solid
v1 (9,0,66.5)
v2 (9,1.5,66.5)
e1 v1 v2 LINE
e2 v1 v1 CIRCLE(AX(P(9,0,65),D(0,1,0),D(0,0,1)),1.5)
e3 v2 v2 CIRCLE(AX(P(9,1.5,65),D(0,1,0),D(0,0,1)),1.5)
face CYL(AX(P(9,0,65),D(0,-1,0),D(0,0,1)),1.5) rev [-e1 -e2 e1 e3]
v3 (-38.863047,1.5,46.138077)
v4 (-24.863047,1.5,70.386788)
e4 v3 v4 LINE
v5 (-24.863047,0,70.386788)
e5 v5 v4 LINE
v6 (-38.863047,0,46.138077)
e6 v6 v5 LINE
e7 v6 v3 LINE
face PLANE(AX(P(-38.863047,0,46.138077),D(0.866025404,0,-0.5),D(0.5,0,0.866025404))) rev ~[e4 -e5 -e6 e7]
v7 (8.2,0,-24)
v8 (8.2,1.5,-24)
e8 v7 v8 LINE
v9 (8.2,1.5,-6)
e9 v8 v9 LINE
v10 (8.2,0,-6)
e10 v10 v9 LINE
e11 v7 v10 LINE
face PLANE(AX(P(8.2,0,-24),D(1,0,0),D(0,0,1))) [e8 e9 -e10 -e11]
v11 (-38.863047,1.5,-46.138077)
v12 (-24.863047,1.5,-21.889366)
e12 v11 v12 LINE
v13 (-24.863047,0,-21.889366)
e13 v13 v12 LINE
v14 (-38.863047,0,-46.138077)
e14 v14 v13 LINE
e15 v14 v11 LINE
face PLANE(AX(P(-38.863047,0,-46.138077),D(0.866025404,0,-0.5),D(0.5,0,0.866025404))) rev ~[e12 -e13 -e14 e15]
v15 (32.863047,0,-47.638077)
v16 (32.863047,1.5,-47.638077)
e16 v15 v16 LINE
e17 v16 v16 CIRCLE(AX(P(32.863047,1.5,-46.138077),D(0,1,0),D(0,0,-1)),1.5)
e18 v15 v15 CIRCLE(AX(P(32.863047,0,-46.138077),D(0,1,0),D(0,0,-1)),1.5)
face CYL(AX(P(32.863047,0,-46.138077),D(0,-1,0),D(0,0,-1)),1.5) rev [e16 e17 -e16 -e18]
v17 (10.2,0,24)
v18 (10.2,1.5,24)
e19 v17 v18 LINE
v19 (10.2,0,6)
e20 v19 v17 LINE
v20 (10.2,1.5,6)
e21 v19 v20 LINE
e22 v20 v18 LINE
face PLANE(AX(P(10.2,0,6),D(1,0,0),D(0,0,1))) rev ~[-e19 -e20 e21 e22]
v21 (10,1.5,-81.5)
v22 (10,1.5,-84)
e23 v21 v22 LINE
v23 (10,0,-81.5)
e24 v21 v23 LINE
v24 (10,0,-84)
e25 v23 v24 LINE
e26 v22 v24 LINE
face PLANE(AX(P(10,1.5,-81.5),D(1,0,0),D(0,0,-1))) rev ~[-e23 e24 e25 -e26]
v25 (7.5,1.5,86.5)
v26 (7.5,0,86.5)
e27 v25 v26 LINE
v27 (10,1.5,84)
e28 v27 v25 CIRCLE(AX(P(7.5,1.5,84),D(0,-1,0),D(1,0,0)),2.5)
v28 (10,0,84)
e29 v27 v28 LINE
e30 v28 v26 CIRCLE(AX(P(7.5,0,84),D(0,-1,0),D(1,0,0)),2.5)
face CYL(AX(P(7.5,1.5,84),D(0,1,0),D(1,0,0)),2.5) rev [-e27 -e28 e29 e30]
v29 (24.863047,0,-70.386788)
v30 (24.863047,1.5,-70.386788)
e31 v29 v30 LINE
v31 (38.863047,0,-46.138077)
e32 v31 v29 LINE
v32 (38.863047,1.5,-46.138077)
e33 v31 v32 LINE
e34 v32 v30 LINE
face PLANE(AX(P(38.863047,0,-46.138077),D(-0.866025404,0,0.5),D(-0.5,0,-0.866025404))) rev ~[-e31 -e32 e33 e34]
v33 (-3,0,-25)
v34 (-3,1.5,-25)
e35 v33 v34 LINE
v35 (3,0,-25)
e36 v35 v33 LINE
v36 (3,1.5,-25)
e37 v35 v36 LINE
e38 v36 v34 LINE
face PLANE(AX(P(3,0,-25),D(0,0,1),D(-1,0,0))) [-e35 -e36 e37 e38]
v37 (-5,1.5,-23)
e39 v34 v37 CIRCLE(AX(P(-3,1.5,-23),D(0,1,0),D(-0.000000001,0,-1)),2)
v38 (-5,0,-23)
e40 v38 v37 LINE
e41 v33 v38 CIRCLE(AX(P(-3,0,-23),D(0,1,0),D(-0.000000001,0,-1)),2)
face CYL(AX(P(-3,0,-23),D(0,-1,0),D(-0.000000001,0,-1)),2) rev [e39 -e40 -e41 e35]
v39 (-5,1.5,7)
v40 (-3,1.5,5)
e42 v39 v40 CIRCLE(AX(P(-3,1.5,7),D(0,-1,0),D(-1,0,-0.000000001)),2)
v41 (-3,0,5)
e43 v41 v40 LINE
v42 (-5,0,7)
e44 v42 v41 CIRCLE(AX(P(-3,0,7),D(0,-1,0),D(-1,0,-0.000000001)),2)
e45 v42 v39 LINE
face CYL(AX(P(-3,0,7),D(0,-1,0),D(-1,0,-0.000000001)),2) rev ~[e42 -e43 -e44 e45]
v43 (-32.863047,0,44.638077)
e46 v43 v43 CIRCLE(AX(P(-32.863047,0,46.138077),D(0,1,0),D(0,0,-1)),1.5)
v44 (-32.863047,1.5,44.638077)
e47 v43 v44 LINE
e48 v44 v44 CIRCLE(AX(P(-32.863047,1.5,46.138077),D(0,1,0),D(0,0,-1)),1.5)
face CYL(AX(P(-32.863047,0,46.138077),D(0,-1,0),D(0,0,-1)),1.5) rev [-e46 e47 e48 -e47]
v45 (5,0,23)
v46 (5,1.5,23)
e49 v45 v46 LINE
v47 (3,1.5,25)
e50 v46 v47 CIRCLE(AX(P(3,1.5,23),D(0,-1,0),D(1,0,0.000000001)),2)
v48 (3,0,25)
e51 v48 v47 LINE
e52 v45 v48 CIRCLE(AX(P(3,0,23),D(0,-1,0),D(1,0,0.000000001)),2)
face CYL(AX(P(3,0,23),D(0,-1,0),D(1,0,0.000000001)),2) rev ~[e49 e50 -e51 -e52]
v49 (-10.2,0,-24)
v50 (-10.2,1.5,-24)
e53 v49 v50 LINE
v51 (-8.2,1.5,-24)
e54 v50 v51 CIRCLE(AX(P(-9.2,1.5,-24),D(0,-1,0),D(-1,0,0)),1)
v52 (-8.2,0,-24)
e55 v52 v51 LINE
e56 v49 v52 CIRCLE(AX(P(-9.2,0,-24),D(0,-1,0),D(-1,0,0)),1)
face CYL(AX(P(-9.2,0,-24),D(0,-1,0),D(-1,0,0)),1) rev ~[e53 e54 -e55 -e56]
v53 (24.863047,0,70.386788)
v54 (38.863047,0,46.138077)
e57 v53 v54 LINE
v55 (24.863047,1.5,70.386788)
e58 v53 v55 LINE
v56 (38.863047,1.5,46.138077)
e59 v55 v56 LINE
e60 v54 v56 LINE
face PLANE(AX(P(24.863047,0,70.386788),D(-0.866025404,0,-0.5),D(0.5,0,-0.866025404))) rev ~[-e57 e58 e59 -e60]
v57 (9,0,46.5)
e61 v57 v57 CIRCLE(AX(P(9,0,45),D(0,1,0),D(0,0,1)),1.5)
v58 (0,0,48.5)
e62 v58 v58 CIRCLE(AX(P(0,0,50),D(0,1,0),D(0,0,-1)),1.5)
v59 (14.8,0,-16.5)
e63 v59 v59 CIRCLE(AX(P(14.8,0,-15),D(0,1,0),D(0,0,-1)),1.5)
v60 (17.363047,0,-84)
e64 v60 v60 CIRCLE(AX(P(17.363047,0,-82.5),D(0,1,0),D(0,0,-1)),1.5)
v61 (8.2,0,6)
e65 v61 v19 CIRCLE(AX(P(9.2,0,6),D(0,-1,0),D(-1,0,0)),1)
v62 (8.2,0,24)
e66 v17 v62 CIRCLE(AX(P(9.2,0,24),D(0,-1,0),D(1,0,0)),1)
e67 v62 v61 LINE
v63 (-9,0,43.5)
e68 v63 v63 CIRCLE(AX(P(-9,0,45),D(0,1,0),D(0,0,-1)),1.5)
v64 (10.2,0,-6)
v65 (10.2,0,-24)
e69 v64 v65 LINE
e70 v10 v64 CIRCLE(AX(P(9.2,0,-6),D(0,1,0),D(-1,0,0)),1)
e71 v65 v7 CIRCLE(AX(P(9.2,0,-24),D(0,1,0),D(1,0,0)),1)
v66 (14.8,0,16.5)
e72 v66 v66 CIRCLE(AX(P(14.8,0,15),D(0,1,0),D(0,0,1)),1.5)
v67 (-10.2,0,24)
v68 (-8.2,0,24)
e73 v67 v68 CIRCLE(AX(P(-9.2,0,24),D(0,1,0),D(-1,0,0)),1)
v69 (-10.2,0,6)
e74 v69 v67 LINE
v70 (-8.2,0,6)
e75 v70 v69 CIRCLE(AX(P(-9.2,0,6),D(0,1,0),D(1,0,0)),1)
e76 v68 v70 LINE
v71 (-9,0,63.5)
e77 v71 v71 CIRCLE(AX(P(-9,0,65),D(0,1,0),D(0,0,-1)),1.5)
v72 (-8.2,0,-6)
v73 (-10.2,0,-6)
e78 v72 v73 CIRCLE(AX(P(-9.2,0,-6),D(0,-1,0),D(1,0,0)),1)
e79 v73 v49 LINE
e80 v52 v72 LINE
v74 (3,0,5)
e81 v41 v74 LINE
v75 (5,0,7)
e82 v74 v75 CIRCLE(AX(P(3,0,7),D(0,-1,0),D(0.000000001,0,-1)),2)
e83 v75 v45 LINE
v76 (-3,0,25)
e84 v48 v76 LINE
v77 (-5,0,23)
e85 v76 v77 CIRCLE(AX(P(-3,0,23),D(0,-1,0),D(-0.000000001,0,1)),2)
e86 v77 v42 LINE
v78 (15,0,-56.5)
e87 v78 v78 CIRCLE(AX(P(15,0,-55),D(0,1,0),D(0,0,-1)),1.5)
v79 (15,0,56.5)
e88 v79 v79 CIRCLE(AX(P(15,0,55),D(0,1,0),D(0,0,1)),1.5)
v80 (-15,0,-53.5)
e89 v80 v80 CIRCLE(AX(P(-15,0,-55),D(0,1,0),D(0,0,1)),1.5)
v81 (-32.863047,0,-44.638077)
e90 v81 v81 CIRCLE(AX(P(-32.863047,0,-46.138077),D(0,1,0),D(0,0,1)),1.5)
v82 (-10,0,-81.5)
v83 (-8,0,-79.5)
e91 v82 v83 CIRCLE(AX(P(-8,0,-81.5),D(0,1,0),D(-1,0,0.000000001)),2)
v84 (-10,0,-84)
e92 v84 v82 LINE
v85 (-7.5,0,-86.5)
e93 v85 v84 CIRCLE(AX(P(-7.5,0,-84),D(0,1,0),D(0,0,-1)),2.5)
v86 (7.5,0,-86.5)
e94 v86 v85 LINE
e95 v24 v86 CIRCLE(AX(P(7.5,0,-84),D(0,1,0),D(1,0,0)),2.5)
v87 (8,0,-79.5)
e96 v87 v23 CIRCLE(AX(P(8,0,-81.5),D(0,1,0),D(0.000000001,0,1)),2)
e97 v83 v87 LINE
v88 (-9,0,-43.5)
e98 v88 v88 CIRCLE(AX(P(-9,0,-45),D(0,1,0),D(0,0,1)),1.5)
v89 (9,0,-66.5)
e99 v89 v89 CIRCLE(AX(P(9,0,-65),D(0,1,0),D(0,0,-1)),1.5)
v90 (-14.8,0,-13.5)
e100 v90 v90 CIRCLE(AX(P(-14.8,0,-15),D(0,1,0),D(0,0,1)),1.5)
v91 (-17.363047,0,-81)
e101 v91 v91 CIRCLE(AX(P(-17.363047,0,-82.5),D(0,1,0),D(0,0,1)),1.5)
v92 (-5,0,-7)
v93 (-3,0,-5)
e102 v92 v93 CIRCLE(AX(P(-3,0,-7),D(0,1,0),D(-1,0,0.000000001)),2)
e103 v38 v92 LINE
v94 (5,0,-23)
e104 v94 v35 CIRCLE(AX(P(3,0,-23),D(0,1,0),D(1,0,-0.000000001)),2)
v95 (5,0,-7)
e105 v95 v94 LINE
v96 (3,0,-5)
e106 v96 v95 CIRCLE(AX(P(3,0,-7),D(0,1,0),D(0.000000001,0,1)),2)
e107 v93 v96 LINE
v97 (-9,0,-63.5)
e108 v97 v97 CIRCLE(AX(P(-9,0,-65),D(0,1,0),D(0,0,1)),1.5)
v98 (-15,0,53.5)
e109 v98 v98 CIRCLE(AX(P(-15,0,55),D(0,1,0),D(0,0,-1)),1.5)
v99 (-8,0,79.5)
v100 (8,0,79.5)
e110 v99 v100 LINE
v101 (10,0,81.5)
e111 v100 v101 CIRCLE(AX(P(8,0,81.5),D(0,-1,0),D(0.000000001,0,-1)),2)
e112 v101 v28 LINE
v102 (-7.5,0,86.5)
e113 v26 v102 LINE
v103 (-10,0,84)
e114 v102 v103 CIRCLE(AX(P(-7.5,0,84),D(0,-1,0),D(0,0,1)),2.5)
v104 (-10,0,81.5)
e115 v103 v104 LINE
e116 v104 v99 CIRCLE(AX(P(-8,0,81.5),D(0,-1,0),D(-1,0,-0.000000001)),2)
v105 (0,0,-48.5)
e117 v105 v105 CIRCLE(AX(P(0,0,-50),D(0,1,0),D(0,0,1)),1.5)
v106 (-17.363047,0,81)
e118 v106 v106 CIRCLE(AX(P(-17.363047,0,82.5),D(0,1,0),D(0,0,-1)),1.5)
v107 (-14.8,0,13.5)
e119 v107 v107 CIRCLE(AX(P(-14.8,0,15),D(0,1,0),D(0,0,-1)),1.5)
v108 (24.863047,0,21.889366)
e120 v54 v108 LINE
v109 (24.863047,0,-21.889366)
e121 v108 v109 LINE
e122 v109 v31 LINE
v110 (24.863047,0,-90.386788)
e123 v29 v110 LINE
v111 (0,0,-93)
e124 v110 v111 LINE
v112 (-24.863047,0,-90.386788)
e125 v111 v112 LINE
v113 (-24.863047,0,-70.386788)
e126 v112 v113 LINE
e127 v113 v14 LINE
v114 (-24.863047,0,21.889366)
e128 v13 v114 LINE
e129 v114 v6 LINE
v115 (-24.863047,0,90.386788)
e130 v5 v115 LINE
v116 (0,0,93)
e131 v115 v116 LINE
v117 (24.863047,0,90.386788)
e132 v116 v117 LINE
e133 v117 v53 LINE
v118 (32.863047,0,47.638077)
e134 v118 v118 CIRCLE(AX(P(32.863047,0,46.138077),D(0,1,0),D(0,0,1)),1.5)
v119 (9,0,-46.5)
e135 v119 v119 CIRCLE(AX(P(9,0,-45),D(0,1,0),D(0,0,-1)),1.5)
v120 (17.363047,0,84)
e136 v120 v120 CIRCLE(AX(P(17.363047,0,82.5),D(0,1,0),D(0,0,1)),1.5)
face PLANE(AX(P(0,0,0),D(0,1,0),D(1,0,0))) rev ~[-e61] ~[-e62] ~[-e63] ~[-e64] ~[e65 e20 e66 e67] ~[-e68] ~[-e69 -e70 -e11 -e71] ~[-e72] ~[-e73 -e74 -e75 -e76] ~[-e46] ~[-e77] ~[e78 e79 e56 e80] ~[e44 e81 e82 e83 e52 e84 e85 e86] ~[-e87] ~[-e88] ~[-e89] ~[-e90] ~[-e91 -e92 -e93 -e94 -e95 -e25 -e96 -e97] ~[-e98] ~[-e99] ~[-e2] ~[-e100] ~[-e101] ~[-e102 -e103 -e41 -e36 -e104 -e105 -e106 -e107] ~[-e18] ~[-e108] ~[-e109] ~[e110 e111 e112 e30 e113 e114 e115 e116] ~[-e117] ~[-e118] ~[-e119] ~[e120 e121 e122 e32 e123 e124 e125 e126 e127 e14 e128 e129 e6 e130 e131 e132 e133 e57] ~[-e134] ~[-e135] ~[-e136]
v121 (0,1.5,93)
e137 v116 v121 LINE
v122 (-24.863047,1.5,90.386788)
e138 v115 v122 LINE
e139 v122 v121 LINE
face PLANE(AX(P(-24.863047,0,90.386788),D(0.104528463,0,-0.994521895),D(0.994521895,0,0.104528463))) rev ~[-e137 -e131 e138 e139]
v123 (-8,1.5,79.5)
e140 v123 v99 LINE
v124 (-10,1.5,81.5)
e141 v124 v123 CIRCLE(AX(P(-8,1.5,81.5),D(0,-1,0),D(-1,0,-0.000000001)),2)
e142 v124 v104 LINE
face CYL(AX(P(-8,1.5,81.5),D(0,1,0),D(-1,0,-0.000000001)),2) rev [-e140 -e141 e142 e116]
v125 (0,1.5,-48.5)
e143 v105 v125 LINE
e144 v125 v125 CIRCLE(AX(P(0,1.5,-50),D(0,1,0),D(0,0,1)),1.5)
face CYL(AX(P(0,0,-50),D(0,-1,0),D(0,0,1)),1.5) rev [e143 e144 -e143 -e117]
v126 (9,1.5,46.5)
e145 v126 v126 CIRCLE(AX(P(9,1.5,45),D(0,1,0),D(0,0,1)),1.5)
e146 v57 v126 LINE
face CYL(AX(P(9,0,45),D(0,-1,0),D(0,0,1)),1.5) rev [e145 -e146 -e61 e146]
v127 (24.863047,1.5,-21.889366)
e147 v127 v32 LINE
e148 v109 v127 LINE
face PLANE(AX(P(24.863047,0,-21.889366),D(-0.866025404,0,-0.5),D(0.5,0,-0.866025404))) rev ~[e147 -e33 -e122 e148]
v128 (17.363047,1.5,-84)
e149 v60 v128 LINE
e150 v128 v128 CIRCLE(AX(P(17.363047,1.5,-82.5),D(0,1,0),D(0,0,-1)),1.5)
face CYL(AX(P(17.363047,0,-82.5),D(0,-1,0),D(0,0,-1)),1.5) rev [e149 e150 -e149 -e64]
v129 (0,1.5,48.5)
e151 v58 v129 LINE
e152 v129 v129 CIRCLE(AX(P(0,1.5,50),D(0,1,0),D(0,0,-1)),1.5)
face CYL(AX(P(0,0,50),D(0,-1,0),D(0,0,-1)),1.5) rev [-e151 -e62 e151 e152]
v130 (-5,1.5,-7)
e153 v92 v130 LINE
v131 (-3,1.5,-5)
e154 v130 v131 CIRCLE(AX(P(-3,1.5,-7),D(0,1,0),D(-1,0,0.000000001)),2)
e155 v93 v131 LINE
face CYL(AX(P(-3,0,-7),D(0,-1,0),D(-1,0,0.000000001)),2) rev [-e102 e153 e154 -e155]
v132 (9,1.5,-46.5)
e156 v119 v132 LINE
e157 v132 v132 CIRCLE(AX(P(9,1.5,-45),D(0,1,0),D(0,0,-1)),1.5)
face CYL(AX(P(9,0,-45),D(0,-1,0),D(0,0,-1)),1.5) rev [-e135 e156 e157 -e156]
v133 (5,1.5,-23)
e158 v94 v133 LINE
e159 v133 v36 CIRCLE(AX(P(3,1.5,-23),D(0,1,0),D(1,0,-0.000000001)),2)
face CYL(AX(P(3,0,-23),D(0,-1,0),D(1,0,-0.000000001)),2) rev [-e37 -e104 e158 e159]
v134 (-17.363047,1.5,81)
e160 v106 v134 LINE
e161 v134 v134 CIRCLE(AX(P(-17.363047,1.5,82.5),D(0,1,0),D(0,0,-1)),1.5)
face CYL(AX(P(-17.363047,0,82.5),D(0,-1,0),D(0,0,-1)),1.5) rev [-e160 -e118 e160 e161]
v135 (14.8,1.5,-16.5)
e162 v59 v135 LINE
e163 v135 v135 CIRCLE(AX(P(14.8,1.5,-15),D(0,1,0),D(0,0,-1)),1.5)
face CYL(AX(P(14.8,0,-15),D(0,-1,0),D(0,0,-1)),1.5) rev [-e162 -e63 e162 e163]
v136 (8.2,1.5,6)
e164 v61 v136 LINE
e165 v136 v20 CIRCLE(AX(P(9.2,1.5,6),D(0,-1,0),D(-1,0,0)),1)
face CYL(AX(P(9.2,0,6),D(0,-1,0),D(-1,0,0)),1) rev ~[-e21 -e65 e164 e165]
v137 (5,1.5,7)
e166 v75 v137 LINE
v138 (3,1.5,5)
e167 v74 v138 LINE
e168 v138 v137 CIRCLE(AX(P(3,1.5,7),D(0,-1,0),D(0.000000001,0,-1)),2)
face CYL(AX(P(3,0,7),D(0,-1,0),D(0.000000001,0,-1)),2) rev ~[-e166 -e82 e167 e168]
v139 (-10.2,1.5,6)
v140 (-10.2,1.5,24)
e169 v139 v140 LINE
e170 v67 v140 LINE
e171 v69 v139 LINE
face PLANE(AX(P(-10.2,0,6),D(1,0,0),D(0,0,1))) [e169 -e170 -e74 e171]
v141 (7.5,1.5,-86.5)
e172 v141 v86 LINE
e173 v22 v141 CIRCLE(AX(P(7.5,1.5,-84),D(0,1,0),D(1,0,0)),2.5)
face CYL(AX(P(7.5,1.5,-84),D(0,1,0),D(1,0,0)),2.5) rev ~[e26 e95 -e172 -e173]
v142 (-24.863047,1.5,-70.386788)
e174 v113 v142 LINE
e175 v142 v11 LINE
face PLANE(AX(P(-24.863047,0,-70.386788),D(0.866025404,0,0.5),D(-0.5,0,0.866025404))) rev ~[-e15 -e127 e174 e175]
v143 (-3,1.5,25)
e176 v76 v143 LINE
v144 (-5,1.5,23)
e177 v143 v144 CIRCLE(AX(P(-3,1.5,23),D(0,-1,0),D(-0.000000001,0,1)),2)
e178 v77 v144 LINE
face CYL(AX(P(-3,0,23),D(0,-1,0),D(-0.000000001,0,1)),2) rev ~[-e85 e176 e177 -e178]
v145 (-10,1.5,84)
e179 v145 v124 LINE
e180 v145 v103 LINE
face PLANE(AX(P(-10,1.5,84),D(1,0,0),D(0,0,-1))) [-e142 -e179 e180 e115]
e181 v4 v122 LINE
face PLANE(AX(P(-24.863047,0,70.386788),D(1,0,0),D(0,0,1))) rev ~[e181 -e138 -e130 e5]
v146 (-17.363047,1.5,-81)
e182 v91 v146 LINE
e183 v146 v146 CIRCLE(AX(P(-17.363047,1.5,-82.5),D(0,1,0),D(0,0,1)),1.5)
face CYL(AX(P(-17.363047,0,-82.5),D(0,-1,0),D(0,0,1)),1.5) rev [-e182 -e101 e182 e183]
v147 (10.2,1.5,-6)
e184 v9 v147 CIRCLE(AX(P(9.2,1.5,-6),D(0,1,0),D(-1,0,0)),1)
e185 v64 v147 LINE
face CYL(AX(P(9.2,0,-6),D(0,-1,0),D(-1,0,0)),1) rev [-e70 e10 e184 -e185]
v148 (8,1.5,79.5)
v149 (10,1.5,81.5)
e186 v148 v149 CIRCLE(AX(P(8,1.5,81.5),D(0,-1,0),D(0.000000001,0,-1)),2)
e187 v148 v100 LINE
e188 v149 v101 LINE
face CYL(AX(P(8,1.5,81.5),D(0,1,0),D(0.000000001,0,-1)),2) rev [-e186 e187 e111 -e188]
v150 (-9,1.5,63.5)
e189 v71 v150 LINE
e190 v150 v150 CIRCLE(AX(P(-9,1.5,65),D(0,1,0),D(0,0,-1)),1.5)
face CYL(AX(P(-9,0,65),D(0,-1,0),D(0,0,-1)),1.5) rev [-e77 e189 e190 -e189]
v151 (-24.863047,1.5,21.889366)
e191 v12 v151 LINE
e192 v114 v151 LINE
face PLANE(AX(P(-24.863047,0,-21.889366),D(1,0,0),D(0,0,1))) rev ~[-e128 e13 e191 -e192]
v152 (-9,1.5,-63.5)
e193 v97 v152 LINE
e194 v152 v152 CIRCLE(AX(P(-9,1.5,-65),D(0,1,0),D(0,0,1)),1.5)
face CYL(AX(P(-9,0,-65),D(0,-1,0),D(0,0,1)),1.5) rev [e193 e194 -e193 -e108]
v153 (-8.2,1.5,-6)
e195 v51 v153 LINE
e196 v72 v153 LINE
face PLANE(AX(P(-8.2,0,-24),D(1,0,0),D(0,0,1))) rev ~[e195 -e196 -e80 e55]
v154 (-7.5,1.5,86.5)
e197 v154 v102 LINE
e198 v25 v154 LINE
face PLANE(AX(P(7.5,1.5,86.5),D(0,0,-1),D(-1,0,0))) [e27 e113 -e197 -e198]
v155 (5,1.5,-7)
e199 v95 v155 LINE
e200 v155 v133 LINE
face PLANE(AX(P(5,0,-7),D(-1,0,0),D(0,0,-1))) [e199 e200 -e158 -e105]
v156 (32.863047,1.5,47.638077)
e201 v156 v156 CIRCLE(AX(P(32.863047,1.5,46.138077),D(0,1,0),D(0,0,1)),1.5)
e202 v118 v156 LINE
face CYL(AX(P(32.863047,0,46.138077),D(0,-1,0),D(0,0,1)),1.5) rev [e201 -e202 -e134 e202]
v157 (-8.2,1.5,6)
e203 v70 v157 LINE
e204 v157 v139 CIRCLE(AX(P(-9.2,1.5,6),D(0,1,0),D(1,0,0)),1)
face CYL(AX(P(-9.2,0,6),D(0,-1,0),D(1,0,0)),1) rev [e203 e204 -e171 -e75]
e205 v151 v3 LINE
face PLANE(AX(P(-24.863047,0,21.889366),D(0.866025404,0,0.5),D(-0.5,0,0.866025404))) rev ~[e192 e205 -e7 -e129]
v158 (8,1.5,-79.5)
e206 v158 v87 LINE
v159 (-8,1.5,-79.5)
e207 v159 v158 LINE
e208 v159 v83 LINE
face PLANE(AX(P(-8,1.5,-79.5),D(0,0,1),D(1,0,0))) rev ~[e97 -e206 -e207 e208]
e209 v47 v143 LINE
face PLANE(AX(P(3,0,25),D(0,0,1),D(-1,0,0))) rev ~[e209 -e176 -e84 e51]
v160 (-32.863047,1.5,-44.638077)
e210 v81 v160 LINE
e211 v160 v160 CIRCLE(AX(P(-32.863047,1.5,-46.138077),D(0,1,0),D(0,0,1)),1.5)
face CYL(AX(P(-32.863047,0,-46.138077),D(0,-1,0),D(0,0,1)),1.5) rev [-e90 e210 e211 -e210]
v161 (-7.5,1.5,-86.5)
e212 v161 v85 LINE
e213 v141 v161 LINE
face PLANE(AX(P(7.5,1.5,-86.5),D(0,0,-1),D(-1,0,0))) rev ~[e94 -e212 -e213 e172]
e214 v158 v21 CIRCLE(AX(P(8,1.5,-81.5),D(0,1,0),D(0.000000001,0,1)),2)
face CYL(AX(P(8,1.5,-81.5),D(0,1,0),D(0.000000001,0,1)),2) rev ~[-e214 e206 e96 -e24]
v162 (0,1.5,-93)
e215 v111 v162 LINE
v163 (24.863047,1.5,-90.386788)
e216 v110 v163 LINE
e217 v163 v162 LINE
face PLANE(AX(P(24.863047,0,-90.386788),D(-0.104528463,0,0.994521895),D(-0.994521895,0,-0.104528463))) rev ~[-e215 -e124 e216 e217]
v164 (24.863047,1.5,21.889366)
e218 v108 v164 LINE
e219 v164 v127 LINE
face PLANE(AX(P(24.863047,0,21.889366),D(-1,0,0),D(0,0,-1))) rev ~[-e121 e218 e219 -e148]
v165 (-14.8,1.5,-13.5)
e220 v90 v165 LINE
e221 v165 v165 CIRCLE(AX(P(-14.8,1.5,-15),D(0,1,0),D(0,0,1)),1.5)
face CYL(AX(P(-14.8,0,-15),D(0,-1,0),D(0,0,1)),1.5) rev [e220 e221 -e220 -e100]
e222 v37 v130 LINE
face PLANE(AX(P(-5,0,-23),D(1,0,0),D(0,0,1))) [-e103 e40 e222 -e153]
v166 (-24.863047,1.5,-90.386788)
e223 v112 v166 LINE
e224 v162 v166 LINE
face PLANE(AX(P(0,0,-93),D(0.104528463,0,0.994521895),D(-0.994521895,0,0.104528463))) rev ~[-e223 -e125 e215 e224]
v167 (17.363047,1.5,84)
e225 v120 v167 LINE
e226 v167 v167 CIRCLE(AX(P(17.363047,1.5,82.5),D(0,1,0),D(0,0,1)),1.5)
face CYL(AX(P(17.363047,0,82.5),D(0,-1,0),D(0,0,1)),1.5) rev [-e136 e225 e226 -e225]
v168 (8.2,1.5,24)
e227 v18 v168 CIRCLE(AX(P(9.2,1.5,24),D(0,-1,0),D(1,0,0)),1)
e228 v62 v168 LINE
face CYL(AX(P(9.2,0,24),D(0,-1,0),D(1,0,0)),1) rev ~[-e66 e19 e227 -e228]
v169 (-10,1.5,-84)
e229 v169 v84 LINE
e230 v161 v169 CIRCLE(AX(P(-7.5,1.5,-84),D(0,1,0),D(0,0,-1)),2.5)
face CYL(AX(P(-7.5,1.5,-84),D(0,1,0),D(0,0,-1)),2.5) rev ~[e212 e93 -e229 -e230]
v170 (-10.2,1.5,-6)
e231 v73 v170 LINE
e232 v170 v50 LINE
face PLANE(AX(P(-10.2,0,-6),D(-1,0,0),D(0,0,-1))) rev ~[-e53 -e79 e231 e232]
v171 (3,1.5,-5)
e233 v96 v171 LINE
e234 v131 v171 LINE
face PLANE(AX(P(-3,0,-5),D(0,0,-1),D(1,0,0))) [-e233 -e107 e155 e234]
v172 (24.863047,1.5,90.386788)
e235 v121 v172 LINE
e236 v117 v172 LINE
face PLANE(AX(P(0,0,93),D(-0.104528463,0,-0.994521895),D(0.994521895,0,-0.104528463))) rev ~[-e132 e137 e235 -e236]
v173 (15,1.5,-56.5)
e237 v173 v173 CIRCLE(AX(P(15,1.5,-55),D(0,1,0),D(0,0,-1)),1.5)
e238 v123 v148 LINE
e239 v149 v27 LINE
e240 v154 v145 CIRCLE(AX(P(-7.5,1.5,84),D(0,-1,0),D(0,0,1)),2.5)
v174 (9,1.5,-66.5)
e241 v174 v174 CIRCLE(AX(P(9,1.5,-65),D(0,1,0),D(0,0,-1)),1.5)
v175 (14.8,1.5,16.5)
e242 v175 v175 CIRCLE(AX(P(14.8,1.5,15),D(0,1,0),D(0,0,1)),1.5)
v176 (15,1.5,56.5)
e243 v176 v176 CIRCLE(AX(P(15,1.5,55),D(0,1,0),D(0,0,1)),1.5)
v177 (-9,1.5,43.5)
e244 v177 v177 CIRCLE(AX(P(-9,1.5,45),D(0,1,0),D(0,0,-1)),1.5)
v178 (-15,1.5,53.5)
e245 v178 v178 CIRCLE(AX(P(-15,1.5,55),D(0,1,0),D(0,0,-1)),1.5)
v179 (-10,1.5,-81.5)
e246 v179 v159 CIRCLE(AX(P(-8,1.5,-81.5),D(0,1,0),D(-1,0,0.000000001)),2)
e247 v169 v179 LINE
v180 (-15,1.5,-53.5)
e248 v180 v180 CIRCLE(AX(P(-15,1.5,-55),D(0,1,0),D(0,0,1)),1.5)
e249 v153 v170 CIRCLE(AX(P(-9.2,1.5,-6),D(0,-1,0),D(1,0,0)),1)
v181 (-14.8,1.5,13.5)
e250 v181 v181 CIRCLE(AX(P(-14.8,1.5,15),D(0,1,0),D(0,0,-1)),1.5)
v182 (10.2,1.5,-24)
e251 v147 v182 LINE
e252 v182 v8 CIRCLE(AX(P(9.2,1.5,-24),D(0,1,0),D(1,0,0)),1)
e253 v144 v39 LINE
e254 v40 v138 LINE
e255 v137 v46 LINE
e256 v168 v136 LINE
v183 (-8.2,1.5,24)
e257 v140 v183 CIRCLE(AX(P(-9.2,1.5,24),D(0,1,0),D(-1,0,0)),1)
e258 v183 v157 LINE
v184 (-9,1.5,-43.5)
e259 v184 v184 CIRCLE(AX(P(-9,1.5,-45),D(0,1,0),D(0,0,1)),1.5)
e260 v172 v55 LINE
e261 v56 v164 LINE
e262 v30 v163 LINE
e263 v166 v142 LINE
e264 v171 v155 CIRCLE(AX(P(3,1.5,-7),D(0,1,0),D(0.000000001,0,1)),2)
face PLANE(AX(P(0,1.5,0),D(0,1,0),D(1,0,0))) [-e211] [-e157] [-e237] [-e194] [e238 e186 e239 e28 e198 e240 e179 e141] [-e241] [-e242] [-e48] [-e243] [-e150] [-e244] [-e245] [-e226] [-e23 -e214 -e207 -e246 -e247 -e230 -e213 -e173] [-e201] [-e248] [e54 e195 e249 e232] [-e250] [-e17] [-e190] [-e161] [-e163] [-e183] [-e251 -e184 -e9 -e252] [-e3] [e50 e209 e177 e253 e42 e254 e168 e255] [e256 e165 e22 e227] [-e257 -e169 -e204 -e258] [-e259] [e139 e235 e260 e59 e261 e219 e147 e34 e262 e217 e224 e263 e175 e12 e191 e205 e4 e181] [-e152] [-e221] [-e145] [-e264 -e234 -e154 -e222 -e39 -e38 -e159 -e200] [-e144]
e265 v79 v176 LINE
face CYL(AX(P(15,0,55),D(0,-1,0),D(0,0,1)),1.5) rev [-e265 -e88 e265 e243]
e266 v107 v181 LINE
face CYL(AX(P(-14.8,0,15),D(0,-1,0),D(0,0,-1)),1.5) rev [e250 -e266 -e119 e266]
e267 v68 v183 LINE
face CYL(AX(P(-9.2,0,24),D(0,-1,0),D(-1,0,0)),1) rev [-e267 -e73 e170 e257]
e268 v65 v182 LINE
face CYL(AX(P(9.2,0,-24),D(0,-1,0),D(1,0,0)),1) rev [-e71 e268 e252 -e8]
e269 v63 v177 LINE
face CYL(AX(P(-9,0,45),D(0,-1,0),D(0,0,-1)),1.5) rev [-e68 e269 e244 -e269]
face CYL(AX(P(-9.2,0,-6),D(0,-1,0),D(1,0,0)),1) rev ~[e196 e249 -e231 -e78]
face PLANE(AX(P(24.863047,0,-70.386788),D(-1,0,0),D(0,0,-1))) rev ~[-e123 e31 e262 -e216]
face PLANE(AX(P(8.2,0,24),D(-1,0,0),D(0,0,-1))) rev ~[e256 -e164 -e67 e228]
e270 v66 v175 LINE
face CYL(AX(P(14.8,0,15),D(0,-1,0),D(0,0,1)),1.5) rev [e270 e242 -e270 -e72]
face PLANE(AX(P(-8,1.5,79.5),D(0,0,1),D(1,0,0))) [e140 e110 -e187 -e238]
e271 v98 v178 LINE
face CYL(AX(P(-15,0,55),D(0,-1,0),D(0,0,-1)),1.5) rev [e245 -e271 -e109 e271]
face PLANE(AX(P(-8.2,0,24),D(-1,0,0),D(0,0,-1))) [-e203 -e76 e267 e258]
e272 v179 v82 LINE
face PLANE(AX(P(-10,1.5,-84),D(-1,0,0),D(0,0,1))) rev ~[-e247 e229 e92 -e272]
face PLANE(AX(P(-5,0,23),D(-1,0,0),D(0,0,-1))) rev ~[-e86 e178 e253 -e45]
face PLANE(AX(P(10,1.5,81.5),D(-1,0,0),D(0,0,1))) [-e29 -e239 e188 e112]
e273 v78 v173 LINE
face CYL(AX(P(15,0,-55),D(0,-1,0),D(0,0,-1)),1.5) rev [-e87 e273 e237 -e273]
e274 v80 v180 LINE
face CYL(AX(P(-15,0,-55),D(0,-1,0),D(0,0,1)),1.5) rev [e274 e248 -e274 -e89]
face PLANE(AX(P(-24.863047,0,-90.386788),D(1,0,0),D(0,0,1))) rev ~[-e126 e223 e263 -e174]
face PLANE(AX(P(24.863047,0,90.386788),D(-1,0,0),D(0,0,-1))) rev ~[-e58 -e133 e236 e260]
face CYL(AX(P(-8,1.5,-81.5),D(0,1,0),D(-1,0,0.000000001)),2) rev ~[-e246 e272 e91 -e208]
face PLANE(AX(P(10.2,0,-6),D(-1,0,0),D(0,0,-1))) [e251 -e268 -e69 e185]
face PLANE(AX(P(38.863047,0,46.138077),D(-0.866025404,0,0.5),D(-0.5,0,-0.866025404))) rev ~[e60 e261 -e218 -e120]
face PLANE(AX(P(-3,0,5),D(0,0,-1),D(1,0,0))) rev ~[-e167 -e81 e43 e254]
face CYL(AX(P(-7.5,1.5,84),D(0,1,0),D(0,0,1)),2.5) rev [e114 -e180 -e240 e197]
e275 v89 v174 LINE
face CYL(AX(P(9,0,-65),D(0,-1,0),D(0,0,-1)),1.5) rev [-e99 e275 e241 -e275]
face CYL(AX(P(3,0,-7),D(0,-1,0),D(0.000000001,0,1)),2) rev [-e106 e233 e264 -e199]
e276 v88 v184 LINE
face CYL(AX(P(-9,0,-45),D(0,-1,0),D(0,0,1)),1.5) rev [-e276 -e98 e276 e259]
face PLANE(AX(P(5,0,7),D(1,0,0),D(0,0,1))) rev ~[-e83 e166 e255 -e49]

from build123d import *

# Parameters (mm, degrees)
SKETCH1_R           = 1.5
BOSS_EXTRUDE1_DEPTH = 1.5
CUT_EXTRUDE1_DEPTH  = 1.5


with BuildPart() as part:
    # Sketch1 → Boss-Extrude1 (new body)
    with BuildSketch(Plane(origin=(0, 0, 0), x_dir=(1, 0, 0), z_dir=(0, 1, 0))):
        Polygon((0, 93), (-24.863047384, 90.386788418), (-24.863047384, 70.386788418), (-38.863047384, 46.138077112), (-24.863047384, 21.889365806), (-24.863047384, -21.889365806), (-38.863047384, -46.138077112), (-24.863047384, -70.386788418), (-24.863047384, -90.386788418), (0, -93), (24.863047384, -90.386788418), (24.863047384, -70.386788418), (38.863047384, -46.138077112), (24.863047384, -21.889365806), (24.863047384, 21.889365806), (38.863047384, 46.138077112), (24.863047384, 70.386788418), (24.863047384, 90.386788418), align=None)
        with Locations(Location((0, 50, 0), (0, 0, 270))):
            Circle(SKETCH1_R, mode=Mode.SUBTRACT)
        with Locations(Location((-9, 45, 0), (0, 0, 270))):
            Circle(SKETCH1_R, mode=Mode.SUBTRACT)
        with Locations(Location((-15, 55, 0), (0, 0, 270))):
            Circle(SKETCH1_R, mode=Mode.SUBTRACT)
        with Locations(Location((-9, 65, 0), (0, 0, 270))):
            Circle(SKETCH1_R, mode=Mode.SUBTRACT)
        with Locations(Location((9, 45, 0), (0, 0, 90))):
            Circle(SKETCH1_R, mode=Mode.SUBTRACT)
        with Locations(Location((9, 65, 0), (0, 0, 90))):
            Circle(SKETCH1_R, mode=Mode.SUBTRACT)
        with Locations(Location((15, 55, 0), (0, 0, 90))):
            Circle(SKETCH1_R, mode=Mode.SUBTRACT)
        with Locations(Location((-14.8, 15, 0), (0, 0, 270))):
            Circle(SKETCH1_R, mode=Mode.SUBTRACT)
        with Locations(Location((14.8, 15, 0), (0, 0, 90))):
            Circle(SKETCH1_R, mode=Mode.SUBTRACT)
        with Locations(Location((-32.863047384, 46.138077112, 0), (0, 0, 270))):
            Circle(SKETCH1_R, mode=Mode.SUBTRACT)
        with Locations(Location((-17.363047384, 82.5, 0), (0, 0, 270))):
            Circle(SKETCH1_R, mode=Mode.SUBTRACT)
        with Locations(Location((32.863047384, 46.138077112, 0), (0, 0, 90))):
            Circle(SKETCH1_R, mode=Mode.SUBTRACT)
        with Locations(Location((17.363047384, 82.5, 0), (0, 0, 90))):
            Circle(SKETCH1_R, mode=Mode.SUBTRACT)
        with Locations(Location((-14.8, -15, 0), (0, 0, 90))):
            Circle(SKETCH1_R, mode=Mode.SUBTRACT)
        with Locations(Location((14.8, -15, 0), (0, 0, 270))):
            Circle(SKETCH1_R, mode=Mode.SUBTRACT)
        with Locations(Location((32.863047384, -46.138077112, 0), (0, 0, 270))):
            Circle(SKETCH1_R, mode=Mode.SUBTRACT)
        with Locations(Location((9, -45, 0), (0, 0, 270))):
            Circle(SKETCH1_R, mode=Mode.SUBTRACT)
        with Locations(Location((-32.863047384, -46.138077112, 0), (0, 0, 90))):
            Circle(SKETCH1_R, mode=Mode.SUBTRACT)
        with Locations(Location((-9, -45, 0), (0, 0, 90))):
            Circle(SKETCH1_R, mode=Mode.SUBTRACT)
        with Locations(Location((15, -55, 0), (0, 0, 270))):
            Circle(SKETCH1_R, mode=Mode.SUBTRACT)
        with Locations(Location((0, -50, 0), (0, 0, 90))):
            Circle(SKETCH1_R, mode=Mode.SUBTRACT)
        with Locations(Location((-15, -55, 0), (0, 0, 90))):
            Circle(SKETCH1_R, mode=Mode.SUBTRACT)
        with Locations(Location((-9, -65, 0), (0, 0, 90))):
            Circle(SKETCH1_R, mode=Mode.SUBTRACT)
        with Locations(Location((9, -65, 0), (0, 0, 270))):
            Circle(SKETCH1_R, mode=Mode.SUBTRACT)
        with Locations(Location((17.363047384, -82.5, 0), (0, 0, 270))):
            Circle(SKETCH1_R, mode=Mode.SUBTRACT)
        with Locations(Location((-17.363047384, -82.5, 0), (0, 0, 90))):
            Circle(SKETCH1_R, mode=Mode.SUBTRACT)
        with BuildLine():
            Line((-3, 5), (3, 5))
            ThreePointArc((3, 5), (4.414213562, 5.585786438), (5, 7))
            Line((5, 7), (5, 23))
            ThreePointArc((5, 23), (4.414213562, 24.414213562), (3, 25))
            Line((3, 25), (-3, 25))
            ThreePointArc((-3, 25), (-4.414213562, 24.414213562), (-5, 23))
            Line((-5, 23), (-5, 7))
            ThreePointArc((-5, 7), (-4.414213562, 5.585786438), (-3, 5))
        make_face(mode=Mode.SUBTRACT)
        with BuildLine():
            Line((-10.2, 6), (-10.2, 24))
            ThreePointArc((-10.2, 24), (-9.2, 25), (-8.2, 24))
            Line((-8.2, 24), (-8.2, 6))
            ThreePointArc((-8.2, 6), (-9.2, 5), (-10.2, 6))
        make_face(mode=Mode.SUBTRACT)
        with BuildLine():
            Line((10.2, 6), (10.2, 24))
            ThreePointArc((10.2, 24), (9.2, 25), (8.2, 24))
            Line((8.2, 24), (8.2, 6))
            ThreePointArc((8.2, 6), (9.2, 5), (10.2, 6))
        make_face(mode=Mode.SUBTRACT)
        with BuildLine():
            Line((5, -7), (5, -23))
            ThreePointArc((5, -23), (4.414213562, -24.414213562), (3, -25))
            Line((3, -25), (-3, -25))
            ThreePointArc((-3, -25), (-4.414213562, -24.414213562), (-5, -23))
            Line((-5, -23), (-5, -7))
            ThreePointArc((-5, -7), (-4.414213562, -5.585786438), (-3, -5))
            Line((-3, -5), (3, -5))
            ThreePointArc((3, -5), (4.414213562, -5.585786438), (5, -7))
        make_face(mode=Mode.SUBTRACT)
        with BuildLine():
            Line((10.2, -6), (10.2, -24))
            ThreePointArc((10.2, -24), (9.2, -25), (8.2, -24))
            Line((8.2, -24), (8.2, -6))
            ThreePointArc((8.2, -6), (9.2, -5), (10.2, -6))
        make_face(mode=Mode.SUBTRACT)
        with BuildLine():
            Line((-10.2, -6), (-10.2, -24))
            ThreePointArc((-10.2, -24), (-9.2, -25), (-8.2, -24))
            Line((-8.2, -24), (-8.2, -6))
            ThreePointArc((-8.2, -6), (-9.2, -5), (-10.2, -6))
        make_face(mode=Mode.SUBTRACT)
    extrude(amount=BOSS_EXTRUDE1_DEPTH)

    # Sketch2 → Cut-Extrude1 (cut)
    with BuildSketch(Plane(origin=(0, 1.5, 0), x_dir=(1, 0, 0), z_dir=(0, 1, 0))):
        with BuildLine():
            Line((-8, 79.5), (8, 79.5))
            ThreePointArc((8, 79.5), (9.414213562, 80.085786438), (10, 81.5))
            Line((10, 81.5), (10, 84))
            ThreePointArc((10, 84), (9.267766953, 85.767766953), (7.5, 86.5))
            Line((7.5, 86.5), (-7.5, 86.5))
            ThreePointArc((-7.5, 86.5), (-9.267766953, 85.767766953), (-10, 84))
            Line((-10, 84), (-10, 81.5))
            ThreePointArc((-10, 81.5), (-9.414213562, 80.085786438), (-8, 79.5))
        make_face()
        with BuildLine():
            Line((10, -81.5), (10, -84))
            ThreePointArc((10, -84), (9.267766953, -85.767766953), (7.5, -86.5))
            Line((7.5, -86.5), (-7.5, -86.5))
            ThreePointArc((-7.5, -86.5), (-9.267766953, -85.767766953), (-10, -84))
            Line((-10, -84), (-10, -81.5))
            ThreePointArc((-10, -81.5), (-9.414213562, -80.085786438), (-8, -79.5))
            Line((-8, -79.5), (8, -79.5))
            ThreePointArc((8, -79.5), (9.414213562, -80.085786438), (10, -81.5))
        make_face()
    extrude(amount=-CUT_EXTRUDE1_DEPTH, mode=Mode.SUBTRACT)


solid = part.part
